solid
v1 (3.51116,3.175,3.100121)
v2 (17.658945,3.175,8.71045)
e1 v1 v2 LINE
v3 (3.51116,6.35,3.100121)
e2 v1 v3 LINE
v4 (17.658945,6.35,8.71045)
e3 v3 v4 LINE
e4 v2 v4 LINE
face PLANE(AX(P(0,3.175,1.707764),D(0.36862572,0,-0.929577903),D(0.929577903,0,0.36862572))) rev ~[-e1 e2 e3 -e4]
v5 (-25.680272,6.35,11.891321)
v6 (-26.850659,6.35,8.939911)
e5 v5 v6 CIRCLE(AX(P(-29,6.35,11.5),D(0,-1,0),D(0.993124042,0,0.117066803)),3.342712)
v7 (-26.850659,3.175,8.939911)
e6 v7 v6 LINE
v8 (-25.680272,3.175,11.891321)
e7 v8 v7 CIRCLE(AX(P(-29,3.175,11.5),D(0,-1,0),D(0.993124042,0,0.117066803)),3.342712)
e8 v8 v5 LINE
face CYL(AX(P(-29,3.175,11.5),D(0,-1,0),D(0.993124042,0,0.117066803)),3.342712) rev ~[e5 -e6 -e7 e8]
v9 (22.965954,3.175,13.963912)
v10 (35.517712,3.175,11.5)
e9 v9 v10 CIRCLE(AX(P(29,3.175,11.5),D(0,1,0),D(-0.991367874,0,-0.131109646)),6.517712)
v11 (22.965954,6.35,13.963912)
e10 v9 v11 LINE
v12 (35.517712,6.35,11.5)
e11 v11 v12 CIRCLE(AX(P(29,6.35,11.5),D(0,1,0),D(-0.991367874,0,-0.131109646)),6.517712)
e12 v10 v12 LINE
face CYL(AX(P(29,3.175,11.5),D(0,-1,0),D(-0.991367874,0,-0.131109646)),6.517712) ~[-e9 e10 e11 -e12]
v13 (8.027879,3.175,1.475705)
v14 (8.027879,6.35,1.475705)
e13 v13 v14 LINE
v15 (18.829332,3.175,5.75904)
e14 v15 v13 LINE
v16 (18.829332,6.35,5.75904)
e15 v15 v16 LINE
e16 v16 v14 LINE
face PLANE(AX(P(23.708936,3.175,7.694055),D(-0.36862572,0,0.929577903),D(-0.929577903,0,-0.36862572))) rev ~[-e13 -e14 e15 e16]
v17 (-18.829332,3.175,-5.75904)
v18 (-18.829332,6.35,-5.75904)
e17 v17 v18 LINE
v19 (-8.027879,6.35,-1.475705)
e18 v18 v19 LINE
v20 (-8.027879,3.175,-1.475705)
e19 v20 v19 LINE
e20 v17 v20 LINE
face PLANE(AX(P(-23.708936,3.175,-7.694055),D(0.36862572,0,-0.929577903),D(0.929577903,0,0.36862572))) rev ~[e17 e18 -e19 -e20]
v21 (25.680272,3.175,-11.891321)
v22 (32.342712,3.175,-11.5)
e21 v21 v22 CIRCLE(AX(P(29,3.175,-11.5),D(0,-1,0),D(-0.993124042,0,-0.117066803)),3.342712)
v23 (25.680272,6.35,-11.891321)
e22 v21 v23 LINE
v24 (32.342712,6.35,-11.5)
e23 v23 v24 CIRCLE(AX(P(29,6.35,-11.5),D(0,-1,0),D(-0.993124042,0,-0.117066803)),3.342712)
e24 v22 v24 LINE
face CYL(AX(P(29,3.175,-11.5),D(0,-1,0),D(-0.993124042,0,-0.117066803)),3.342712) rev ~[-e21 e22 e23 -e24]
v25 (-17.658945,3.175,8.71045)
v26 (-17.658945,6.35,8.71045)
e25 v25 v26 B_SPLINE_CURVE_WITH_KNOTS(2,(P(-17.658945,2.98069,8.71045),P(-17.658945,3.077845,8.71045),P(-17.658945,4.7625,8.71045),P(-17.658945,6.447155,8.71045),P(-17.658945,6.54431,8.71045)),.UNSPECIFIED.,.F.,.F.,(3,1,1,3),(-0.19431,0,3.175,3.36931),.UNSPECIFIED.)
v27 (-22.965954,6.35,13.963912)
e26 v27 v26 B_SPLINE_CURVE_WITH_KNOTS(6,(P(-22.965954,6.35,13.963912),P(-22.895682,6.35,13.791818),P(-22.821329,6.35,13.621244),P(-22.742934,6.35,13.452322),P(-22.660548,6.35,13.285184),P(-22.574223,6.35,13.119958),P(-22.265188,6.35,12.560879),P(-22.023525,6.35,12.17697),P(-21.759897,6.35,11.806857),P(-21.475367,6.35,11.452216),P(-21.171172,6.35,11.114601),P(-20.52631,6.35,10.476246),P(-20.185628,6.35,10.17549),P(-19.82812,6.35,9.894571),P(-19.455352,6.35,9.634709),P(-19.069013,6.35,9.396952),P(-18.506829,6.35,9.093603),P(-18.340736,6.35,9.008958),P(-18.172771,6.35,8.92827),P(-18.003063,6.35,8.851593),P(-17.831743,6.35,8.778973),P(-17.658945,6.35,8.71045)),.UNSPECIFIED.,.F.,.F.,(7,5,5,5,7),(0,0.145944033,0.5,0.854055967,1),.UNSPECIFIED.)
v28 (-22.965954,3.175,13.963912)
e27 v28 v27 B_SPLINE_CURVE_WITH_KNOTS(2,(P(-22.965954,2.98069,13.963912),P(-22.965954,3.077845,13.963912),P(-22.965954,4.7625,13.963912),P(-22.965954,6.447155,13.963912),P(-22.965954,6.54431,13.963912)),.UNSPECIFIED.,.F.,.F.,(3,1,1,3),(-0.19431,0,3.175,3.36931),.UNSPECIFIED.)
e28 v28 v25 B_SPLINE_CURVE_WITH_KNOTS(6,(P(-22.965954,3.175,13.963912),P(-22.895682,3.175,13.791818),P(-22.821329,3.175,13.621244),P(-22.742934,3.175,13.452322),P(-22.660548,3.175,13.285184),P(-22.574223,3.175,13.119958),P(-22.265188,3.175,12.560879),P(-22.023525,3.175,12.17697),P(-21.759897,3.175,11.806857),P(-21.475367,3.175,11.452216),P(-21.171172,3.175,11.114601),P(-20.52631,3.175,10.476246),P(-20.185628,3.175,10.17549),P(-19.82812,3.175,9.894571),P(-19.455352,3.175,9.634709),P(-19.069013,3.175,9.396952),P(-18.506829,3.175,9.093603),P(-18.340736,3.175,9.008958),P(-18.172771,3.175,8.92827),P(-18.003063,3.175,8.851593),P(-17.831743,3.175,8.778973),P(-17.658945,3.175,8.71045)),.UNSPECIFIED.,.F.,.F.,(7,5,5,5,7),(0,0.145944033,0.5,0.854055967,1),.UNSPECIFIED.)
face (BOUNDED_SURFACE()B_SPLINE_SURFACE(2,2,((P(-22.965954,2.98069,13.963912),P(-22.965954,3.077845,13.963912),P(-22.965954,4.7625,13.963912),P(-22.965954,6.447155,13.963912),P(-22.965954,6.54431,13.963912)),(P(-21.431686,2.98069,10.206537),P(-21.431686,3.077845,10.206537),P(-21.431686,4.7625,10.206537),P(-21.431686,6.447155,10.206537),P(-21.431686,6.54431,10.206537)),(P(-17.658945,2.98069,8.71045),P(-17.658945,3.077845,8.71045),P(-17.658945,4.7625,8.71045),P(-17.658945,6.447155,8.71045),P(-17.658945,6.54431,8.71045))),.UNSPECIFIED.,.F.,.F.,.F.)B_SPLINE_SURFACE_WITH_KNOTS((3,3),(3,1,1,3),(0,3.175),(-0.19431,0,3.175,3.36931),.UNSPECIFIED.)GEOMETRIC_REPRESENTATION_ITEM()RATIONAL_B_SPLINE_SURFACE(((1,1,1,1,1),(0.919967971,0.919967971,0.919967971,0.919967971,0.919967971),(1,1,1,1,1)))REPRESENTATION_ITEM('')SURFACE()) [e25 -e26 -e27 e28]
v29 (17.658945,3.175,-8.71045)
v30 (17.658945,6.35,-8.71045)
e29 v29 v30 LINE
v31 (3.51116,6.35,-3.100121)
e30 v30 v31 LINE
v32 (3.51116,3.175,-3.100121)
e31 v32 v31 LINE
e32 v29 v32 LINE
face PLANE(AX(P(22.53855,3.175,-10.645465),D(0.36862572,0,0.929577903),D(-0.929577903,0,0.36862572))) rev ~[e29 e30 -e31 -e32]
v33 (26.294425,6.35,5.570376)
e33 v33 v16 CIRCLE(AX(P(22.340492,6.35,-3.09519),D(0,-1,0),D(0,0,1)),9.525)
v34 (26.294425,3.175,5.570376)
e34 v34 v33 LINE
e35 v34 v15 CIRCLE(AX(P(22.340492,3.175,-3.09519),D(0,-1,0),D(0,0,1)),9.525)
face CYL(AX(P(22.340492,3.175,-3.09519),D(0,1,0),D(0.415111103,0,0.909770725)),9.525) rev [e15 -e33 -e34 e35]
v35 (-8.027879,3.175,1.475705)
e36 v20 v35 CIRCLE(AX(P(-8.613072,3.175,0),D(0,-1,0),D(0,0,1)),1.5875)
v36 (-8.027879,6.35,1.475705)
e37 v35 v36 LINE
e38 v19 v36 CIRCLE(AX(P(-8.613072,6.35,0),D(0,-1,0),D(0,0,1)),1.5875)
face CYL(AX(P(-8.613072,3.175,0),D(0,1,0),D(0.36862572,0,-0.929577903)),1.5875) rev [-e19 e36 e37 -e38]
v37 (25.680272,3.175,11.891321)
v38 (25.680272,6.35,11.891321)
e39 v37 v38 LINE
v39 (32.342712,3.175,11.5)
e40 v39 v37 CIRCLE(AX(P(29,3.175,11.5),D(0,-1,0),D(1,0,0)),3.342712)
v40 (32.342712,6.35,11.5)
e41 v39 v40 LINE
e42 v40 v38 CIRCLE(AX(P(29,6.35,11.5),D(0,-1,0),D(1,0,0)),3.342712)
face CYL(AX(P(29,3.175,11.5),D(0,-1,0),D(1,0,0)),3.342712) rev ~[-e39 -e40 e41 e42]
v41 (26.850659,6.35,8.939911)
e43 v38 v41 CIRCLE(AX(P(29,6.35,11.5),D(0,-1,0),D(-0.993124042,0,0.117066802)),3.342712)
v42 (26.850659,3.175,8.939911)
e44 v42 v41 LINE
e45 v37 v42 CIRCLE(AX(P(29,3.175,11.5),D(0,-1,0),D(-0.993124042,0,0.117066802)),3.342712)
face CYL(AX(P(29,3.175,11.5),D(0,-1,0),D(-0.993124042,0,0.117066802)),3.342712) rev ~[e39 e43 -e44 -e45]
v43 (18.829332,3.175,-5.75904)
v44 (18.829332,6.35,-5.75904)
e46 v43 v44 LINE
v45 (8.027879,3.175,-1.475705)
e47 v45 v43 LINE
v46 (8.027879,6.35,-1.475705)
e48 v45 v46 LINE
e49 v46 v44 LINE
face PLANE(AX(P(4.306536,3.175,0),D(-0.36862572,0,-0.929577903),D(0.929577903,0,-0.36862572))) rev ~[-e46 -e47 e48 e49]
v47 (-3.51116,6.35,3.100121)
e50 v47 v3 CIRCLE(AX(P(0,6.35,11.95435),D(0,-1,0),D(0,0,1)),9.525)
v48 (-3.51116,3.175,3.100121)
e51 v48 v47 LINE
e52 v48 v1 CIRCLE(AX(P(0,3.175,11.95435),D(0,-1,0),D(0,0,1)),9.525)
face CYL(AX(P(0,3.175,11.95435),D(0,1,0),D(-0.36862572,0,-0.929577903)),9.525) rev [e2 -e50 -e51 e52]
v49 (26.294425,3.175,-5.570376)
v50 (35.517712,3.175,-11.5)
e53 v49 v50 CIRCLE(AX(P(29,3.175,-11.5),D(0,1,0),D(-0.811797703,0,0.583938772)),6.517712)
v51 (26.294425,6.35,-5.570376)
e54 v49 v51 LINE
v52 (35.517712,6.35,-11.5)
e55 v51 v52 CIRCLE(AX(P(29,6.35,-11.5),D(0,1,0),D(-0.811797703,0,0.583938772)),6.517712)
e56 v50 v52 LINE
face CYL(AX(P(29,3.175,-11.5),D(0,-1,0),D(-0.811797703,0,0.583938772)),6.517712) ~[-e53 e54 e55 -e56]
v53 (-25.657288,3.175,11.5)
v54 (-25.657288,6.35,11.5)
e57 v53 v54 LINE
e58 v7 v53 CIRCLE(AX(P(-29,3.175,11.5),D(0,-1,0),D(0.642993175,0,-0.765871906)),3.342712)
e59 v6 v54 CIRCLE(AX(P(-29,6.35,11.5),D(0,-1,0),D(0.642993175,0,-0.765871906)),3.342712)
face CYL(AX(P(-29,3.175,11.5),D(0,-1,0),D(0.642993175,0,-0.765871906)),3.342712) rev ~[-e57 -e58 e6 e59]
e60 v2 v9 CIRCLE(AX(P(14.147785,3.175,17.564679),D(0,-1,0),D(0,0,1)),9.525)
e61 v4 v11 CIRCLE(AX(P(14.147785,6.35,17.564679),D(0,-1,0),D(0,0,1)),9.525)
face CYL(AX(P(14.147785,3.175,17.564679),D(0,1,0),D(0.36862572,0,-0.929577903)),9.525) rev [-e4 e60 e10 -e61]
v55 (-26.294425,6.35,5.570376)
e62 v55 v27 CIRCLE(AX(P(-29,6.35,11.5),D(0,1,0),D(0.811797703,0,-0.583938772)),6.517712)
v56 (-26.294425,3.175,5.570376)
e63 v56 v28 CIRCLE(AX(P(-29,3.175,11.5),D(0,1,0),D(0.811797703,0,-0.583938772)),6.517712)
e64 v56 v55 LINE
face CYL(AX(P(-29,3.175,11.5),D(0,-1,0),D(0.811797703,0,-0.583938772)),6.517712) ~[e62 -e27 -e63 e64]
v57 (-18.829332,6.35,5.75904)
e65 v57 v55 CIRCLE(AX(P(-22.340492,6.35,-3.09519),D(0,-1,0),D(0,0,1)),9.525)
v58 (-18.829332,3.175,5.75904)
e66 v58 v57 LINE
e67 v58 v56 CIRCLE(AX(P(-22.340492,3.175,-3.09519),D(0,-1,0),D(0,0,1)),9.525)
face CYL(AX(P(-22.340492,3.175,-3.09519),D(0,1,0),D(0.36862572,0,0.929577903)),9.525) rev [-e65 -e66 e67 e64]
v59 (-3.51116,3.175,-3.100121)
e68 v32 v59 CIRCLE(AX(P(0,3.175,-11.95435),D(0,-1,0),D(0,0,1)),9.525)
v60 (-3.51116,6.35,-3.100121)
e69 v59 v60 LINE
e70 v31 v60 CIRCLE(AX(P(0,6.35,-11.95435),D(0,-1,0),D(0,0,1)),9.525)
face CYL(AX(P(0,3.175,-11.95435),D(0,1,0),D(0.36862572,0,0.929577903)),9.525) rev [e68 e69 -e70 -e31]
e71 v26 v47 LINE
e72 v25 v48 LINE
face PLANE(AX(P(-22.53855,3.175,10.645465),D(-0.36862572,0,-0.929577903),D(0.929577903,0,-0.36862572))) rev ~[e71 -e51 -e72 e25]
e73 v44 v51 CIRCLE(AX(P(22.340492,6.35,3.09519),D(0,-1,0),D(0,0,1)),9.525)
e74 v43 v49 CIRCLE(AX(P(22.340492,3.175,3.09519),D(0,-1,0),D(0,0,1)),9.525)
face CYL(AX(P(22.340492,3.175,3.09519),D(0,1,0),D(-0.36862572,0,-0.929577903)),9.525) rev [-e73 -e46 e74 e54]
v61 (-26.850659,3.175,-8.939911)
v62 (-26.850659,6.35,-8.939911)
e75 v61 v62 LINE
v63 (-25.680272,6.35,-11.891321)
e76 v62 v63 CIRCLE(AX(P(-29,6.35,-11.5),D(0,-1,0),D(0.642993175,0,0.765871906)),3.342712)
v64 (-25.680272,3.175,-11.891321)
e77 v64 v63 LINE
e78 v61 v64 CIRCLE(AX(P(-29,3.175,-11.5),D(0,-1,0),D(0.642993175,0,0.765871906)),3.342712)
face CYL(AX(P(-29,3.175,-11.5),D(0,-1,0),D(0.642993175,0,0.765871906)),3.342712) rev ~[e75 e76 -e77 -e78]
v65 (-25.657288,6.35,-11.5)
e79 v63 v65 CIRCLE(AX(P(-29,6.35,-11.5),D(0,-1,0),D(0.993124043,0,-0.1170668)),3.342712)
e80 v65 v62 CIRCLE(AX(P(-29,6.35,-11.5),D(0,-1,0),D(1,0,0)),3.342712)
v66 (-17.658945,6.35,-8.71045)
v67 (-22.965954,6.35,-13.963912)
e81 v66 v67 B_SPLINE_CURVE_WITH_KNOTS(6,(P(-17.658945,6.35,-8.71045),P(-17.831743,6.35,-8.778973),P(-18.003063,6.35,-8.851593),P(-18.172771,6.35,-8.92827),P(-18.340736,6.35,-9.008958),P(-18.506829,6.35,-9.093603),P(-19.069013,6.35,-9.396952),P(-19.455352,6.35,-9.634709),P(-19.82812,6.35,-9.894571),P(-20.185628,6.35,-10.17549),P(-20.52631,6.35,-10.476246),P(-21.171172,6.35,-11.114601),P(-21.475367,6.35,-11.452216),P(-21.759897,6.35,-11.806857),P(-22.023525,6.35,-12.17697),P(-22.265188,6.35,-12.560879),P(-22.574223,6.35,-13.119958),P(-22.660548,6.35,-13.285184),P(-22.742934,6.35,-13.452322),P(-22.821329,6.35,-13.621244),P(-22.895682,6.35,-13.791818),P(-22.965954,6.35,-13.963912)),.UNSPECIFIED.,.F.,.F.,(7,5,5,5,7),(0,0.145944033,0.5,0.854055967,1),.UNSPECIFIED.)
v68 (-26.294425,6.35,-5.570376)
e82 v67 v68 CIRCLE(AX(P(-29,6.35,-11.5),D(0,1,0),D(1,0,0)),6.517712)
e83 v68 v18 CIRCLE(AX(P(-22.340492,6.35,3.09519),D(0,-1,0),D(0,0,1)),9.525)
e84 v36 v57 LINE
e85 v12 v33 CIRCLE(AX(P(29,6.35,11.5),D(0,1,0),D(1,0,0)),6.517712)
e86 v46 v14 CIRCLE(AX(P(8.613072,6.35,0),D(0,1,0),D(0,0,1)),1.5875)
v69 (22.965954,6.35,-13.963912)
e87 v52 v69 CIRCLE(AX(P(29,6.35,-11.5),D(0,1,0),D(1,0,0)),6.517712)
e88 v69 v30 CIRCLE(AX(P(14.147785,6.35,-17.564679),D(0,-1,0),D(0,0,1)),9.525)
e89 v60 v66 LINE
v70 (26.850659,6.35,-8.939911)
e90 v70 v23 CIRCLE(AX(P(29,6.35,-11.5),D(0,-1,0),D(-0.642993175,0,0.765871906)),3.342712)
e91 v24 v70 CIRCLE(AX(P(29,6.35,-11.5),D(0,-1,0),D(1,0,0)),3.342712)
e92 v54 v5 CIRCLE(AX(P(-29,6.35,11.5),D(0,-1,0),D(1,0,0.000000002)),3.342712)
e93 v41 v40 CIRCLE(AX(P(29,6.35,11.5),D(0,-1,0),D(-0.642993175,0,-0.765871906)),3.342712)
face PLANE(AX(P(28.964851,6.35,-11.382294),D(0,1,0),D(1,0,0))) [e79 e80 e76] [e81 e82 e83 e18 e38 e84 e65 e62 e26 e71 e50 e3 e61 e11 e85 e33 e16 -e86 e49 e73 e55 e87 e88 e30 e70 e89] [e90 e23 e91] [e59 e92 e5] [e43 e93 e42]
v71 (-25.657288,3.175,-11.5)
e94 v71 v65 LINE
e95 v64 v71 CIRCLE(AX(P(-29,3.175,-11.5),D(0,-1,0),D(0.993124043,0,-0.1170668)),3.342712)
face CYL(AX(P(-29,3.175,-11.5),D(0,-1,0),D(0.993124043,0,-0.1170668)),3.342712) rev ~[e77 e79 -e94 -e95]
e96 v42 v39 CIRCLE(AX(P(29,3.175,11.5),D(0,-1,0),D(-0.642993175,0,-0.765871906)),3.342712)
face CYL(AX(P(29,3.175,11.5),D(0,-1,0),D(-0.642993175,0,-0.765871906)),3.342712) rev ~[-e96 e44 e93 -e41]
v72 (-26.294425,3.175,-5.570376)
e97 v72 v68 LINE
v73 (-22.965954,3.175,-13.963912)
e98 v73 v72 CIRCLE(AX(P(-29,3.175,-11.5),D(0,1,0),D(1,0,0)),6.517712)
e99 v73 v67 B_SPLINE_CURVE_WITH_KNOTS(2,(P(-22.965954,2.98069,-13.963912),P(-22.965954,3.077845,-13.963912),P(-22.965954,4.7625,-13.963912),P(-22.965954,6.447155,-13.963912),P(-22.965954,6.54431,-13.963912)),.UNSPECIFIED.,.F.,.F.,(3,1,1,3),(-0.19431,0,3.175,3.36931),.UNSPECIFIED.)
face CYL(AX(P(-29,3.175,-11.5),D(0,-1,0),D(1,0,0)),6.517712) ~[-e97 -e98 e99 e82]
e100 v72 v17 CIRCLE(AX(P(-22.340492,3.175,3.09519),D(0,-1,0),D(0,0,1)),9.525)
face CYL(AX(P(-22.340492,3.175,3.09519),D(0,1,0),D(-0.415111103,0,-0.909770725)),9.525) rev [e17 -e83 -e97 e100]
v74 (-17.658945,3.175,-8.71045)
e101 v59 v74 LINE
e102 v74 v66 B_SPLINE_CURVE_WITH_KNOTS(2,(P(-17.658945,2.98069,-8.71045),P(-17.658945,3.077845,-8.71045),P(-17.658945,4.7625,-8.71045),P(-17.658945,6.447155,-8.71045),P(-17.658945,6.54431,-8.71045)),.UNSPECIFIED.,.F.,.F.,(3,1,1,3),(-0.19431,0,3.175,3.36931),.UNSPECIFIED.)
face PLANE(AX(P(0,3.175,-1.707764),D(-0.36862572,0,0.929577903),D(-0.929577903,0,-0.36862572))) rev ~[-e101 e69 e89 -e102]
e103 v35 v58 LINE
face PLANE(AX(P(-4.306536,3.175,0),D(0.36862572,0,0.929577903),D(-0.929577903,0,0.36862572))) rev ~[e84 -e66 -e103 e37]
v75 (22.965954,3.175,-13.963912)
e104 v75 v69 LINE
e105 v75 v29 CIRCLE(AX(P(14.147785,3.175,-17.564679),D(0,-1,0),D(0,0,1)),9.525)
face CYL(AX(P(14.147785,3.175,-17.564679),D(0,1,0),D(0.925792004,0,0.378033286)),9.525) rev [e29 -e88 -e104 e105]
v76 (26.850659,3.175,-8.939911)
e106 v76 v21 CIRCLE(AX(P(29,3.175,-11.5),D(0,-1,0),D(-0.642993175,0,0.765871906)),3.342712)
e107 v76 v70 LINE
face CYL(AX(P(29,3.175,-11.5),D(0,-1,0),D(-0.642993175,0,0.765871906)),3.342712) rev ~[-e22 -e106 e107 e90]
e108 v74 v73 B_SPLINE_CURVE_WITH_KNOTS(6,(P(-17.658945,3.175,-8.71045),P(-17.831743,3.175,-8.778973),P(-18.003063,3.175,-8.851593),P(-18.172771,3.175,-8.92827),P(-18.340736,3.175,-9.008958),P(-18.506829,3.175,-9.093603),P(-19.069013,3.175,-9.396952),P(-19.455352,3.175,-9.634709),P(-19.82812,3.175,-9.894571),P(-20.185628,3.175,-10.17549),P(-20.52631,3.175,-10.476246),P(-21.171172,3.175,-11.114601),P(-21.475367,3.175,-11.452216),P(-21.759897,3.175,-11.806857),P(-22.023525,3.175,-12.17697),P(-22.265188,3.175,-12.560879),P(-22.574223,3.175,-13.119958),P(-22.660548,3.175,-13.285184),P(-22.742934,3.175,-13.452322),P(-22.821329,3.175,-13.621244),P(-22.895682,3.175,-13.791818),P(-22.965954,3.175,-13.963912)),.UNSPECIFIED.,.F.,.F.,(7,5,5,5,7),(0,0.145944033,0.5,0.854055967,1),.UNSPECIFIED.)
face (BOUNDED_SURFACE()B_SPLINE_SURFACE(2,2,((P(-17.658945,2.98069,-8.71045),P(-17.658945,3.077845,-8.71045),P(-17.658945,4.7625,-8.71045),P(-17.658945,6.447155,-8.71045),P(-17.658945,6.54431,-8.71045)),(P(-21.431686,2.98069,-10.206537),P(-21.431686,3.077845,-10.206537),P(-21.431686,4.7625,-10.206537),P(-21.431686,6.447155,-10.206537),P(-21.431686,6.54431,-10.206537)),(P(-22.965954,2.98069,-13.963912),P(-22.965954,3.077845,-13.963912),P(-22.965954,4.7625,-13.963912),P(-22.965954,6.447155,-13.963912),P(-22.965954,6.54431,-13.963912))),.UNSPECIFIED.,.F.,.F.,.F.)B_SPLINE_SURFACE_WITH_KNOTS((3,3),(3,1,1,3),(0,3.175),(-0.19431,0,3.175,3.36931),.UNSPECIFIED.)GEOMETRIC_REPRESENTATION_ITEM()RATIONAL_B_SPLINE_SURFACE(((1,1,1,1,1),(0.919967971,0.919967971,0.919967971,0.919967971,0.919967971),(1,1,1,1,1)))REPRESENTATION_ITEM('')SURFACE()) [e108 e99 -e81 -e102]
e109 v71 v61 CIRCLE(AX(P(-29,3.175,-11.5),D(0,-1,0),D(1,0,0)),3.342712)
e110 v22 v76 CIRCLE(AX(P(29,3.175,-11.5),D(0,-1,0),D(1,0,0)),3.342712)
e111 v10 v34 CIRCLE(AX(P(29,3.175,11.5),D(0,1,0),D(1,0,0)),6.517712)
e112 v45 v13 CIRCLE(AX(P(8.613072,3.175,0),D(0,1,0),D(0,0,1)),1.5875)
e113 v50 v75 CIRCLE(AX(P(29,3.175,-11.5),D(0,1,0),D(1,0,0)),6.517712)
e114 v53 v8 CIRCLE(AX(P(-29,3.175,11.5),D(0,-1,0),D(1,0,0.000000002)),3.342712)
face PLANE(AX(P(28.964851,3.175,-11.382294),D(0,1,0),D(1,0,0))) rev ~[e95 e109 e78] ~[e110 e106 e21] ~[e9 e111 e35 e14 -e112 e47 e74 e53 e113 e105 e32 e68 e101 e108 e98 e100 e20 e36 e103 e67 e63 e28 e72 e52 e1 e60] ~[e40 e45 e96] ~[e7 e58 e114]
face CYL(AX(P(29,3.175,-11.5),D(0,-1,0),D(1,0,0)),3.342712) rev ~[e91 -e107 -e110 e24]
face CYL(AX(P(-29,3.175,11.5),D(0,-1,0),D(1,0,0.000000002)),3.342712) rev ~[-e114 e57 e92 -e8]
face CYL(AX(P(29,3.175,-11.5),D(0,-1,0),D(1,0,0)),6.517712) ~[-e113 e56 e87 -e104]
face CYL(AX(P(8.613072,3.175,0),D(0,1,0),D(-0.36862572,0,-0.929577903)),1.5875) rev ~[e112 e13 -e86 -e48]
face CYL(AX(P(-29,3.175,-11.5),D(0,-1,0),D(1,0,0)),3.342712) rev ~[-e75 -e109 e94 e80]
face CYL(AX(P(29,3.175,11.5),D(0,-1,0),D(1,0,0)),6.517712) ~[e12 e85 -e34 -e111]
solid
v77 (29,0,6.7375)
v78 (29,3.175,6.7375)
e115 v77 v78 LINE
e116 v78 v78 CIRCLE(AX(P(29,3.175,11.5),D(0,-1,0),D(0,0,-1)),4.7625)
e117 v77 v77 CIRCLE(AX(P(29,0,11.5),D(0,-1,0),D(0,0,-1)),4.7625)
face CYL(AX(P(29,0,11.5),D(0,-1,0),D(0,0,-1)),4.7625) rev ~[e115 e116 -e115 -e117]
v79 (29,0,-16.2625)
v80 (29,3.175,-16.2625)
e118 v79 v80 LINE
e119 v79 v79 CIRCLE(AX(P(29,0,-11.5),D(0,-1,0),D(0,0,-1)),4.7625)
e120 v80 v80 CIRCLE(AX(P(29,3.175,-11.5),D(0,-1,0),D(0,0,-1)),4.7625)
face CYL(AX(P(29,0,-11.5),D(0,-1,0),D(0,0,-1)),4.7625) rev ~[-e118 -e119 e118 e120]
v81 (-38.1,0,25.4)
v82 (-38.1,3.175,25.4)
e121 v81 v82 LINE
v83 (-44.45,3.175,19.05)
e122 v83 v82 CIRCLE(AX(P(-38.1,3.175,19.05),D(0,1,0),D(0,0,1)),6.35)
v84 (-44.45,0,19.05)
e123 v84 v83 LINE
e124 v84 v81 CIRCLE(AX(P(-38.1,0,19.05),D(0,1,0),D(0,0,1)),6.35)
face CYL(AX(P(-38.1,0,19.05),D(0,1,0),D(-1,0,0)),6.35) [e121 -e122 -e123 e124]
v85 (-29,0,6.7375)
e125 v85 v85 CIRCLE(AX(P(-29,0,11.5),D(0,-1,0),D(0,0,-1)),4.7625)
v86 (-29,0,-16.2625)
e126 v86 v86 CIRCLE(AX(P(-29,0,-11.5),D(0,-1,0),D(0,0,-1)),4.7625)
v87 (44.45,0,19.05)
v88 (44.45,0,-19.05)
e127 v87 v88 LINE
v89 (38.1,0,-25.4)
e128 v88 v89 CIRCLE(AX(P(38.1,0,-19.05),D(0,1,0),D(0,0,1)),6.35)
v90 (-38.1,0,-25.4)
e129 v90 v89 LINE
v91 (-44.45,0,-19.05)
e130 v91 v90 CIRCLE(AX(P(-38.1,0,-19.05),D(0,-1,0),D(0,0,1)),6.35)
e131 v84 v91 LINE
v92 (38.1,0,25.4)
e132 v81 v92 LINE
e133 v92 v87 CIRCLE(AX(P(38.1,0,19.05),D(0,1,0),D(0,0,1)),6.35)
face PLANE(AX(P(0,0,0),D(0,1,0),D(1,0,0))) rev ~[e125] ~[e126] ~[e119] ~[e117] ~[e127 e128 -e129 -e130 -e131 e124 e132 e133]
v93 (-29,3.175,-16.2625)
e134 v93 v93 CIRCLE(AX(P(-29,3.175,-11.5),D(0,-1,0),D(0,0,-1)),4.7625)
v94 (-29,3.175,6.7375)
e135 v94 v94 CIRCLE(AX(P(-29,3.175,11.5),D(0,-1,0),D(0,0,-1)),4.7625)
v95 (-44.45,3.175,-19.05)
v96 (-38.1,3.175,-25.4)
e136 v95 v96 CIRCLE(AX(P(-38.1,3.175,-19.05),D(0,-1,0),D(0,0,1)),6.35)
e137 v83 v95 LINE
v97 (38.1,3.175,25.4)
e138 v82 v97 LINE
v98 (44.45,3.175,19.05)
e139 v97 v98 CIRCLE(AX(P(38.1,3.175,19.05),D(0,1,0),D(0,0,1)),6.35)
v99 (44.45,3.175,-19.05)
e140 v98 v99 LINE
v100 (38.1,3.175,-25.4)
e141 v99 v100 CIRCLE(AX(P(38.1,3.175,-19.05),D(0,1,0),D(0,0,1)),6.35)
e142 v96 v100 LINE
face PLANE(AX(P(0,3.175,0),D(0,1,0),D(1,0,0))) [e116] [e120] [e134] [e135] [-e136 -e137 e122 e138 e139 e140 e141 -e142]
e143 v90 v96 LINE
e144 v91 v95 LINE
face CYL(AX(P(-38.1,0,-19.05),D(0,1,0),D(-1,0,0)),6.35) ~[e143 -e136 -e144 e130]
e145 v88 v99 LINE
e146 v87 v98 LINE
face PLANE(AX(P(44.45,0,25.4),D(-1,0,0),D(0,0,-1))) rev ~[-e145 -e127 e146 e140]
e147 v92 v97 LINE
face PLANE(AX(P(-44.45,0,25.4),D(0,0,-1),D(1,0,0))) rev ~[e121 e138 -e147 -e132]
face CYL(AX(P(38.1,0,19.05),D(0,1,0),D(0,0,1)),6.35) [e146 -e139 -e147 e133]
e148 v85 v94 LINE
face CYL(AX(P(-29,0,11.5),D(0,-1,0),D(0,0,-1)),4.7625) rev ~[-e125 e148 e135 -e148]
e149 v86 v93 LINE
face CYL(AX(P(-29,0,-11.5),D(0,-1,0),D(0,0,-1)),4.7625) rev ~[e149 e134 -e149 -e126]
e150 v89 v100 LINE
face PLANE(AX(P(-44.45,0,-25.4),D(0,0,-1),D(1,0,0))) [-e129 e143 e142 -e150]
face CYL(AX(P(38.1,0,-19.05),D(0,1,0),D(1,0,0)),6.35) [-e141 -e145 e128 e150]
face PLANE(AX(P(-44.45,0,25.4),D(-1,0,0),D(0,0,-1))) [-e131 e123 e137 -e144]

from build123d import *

# Parameters (mm, degrees)
SKETCH1_W               = 88.9
SKETCH1_H               = 50.8
BOSS_EXTRUDE1_DEPTH     = 3.175
BOSS_EXTRUDE3_DEPTH     = 3.175
FILLET1_R               = 9.525
FILLET2_R               = 1.5875
FILLET3_R               = 6.35
CUT_EXTRUDE1_DEPTH      = 52.293694794
CUT_EXTRUDE1_DEPTH_BACK = 52.293694794
SKETCH3_R               = 3.342712029
SKETCH4_R               = 4.7625
CUT_EXTRUDE2_DEPTH      = 52.587643882


with BuildPart() as part:
    # Sketch1 → Boss-Extrude1 (new body)
    with BuildSketch(Plane(origin=(0, 0, 0), x_dir=(1, 0, 0), z_dir=(0, 1, 0))):
        Rectangle(SKETCH1_W, SKETCH1_H)
    extrude(amount=BOSS_EXTRUDE1_DEPTH)

    # Fillet3
    fillet3_edges = [part.edges().sort_by_distance(p)[0] for p in [
        (-44.45, 1.5875, 25.4),
        (-44.45, 1.5875, -25.4),
        (44.45, 1.5875, -25.4),
        (44.45, 1.5875, 25.4),
    ]]
    fillet(fillet3_edges, radius=FILLET3_R)

    # Sketch3 → Cut-Extrude1 (cut, two sides: drawn at the far end of the back side and taken through both)
    with BuildSketch(Plane(origin=(0, 3.175, 0), x_dir=(1, 0, 0), z_dir=(0, 1, 0)).offset(-CUT_EXTRUDE1_DEPTH_BACK)):
        with Locations(Location((-29, 11.5, 0), (0, 0, 270))):
            Circle(SKETCH3_R)
        with Locations(Location((-29, -11.5, 0), (0, 0, 270))):
            Circle(SKETCH3_R)
        with Locations(Location((29, -11.5, 0), (0, 0, 270))):
            Circle(SKETCH3_R)
        with Locations(Location((29, 11.5, 0), (0, 0, 270))):
            Circle(SKETCH3_R)
    extrude(amount=CUT_EXTRUDE1_DEPTH + CUT_EXTRUDE1_DEPTH_BACK, mode=Mode.SUBTRACT)

    # Sketch4 → Cut-Extrude2 (cut, through all)
    with BuildSketch(Plane.XZ):
        with Locations(Location((29, 11.5, 0), (0, 0, 270))):
            Circle(SKETCH4_R)
        with Locations(Location((29, -11.5, 0), (0, 0, 270))):
            Circle(SKETCH4_R)
        with Locations(Location((-29, 11.5, 0), (0, 0, 270))):
            Circle(SKETCH4_R)
        with Locations(Location((-29, -11.5, 0), (0, 0, 270))):
            Circle(SKETCH4_R)
    extrude(amount=-CUT_EXTRUDE2_DEPTH, mode=Mode.SUBTRACT)


with BuildPart() as body_2:
    # Sketch2 → Boss-Extrude3 (new body)
    with BuildSketch(Plane(origin=(0, 3.175, 0), x_dir=(1, 0, 0), z_dir=(0, 1, 0))):
        with BuildLine():
            ThreePointArc((35.517712029, 11.5), (28.571807489, 18.00363139), (22.538549686, 10.645465083))
            Line((22.538549686, 10.645465083), (25.680272317, 11.89132061))
            ThreePointArc((25.680272317, 11.89132061), (29.195997513, 14.836960995), (32.342712029, 11.5))
            ThreePointArc((32.342712029, 11.5), (30.412284607, 8.470284519), (26.850658979, 8.939910767))
            Line((26.850658979, 8.939910767), (23.708936348, 7.69405524))
            ThreePointArc((23.708936348, 7.69405524), (30.99936751, 5.296525196), (35.517712029, 11.5))
        make_face()
        with BuildLine():
            Line((25.680272317, 11.89132061), (22.538549686, 10.645465083))
            ThreePointArc((22.538549686, 10.645465083), (22.941278918, 9.097403709), (23.708936348, 7.69405524))
            Line((23.708936348, 7.69405524), (26.850658979, 8.939910767))
            ThreePointArc((26.850658979, 8.939910767), (25.892688761, 10.267790371), (25.680272317, 11.89132061))
        make_face()
        with BuildLine():
            ThreePointArc((23.708936348, -7.69405524), (22.941278918, -9.097403709), (22.538549686, -10.645465083))
            Line((22.538549686, -10.645465083), (25.680272317, -11.89132061))
            ThreePointArc((25.680272317, -11.89132061), (25.892688761, -10.267790371), (26.850658979, -8.939910767))
            Line((26.850658979, -8.939910767), (23.708936348, -7.69405524))
        make_face()
        with BuildLine():
            Line((25.680272317, -11.89132061), (22.538549686, -10.645465083))
            ThreePointArc((22.538549686, -10.645465083), (28.571807489, -18.00363139), (35.517712029, -11.5))
            ThreePointArc((35.517712029, -11.5), (30.99936751, -5.296525196), (23.708936348, -7.69405524))
            Line((23.708936348, -7.69405524), (26.850658979, -8.939910767))
            ThreePointArc((26.850658979, -8.939910767), (30.412284607, -8.470284519), (32.342712029, -11.5))
            ThreePointArc((32.342712029, -11.5), (29.195997513, -14.836960995), (25.680272317, -11.89132061))
        make_face()
        with BuildLine():
            ThreePointArc((-22.538549686, -10.645465083), (-22.941278918, -9.097403709), (-23.708936348, -7.69405524))
            Line((-23.708936348, -7.69405524), (-26.850658979, -8.939910767))
            ThreePointArc((-26.850658979, -8.939910767), (-25.970284519, -10.087715393), (-25.657287971, -11.5))
            ThreePointArc((-25.657287971, -11.5), (-25.663039005, -11.695997513), (-25.680272317, -11.89132061))
            Line((-25.680272317, -11.89132061), (-22.538549686, -10.645465083))
        make_face()
        with BuildLine():
            Line((-26.850658979, -8.939910767), (-23.708936348, -7.69405524))
            ThreePointArc((-23.708936348, -7.69405524), (-35.203474804, -13.49936751), (-22.482287971, -11.5))
            ThreePointArc((-22.482287971, -11.5), (-22.49636861, -11.071807489), (-22.538549686, -10.645465083))
            Line((-22.538549686, -10.645465083), (-25.680272317, -11.89132061))
            ThreePointArc((-25.680272317, -11.89132061), (-32.107311239, -12.732209629), (-26.850658979, -8.939910767))
        make_face()
        with BuildLine():
            ThreePointArc((-25.657287971, 11.5), (-25.970284519, 10.087715393), (-26.850658979, 8.939910767))
            Line((-26.850658979, 8.939910767), (-23.708936348, 7.69405524))
            ThreePointArc((-23.708936348, 7.69405524), (-22.941278918, 9.097403709), (-22.538549686, 10.645465083))
            Line((-22.538549686, 10.645465083), (-25.680272317, 11.89132061))
            ThreePointArc((-25.680272317, 11.89132061), (-25.663039005, 11.695997513), (-25.657287971, 11.5))
        make_face()
        with BuildLine():
            Line((-23.708936348, 7.69405524), (-26.850658979, 8.939910767))
            ThreePointArc((-26.850658979, 8.939910767), (-32.107311239, 12.732209629), (-25.680272317, 11.89132061))
            Line((-25.680272317, 11.89132061), (-22.538549686, 10.645465083))
            ThreePointArc((-22.538549686, 10.645465083), (-22.49636861, 11.071807489), (-22.482287971, 11.5))
            ThreePointArc((-22.482287971, 11.5), (-35.203474804, 13.49936751), (-23.708936348, 7.69405524))
        make_face()
        with BuildLine():
            ThreePointArc((-22.538549686, 10.645465083), (-22.941278918, 9.097403709), (-23.708936348, 7.69405524))
            Line((-23.708936348, 7.69405524), (-4.306536177, 0))
            Line((-4.306536177, 0), (0, 1.707764346))
            Line((0, 1.707764346), (-22.538549686, 10.645465083))
        make_face()
        with BuildLine():
            Line((0, -1.707764346), (-4.306536177, 0))
            Line((-4.306536177, 0), (-23.708936348, -7.69405524))
            ThreePointArc((-23.708936348, -7.69405524), (-22.941278918, -9.097403709), (-22.538549686, -10.645465083))
            Line((-22.538549686, -10.645465083), (0, -1.707764346))
        make_face()
        with BuildLine():
            Line((22.538549686, 10.645465083), (0, 1.707764346))
            Line((0, 1.707764346), (4.306536177, 0))
            Line((4.306536177, 0), (23.708936348, 7.69405524))
            ThreePointArc((23.708936348, 7.69405524), (22.941278918, 9.097403709), (22.538549686, 10.645465083))
        make_face()
        with BuildLine():
            Line((4.306536177, 0), (0, -1.707764346))
            Line((0, -1.707764346), (22.538549686, -10.645465083))
            ThreePointArc((22.538549686, -10.645465083), (22.941278918, -9.097403709), (23.708936348, -7.69405524))
            Line((23.708936348, -7.69405524), (4.306536177, 0))
        make_face()
        Polygon((0, 1.707764346), (-4.306536177, 0), (0, -1.707764346), (4.306536177, 0), align=None)
    extrude(amount=BOSS_EXTRUDE3_DEPTH)

    # Fillet1
    fillet1_edges = [body_2.edges().sort_by_distance(p)[0] for p in [
        (-23.708936348, 4.7625, 7.69405524),
        (-23.708936348, 4.7625, -7.69405524),
        (-22.538549686, 4.7625, -10.645465083),
        (0, 4.7625, -1.707764346),
        (22.538549686, 4.7625, -10.645465083),
        (23.708936348, 4.7625, -7.69405524),
        (23.708936348, 4.7625, 7.69405524),
        (22.538549686, 4.7625, 10.645465083),
        (0, 4.7625, 1.707764346),
        (-22.538549686, 4.7625, 10.645465083),
    ]]
    fillet(fillet1_edges, radius=FILLET1_R)

    # Fillet2
    fillet2_edges = [body_2.edges().sort_by_distance(p)[0] for p in [
        (-4.306536177, 4.7625, 0),
        (4.306536177, 4.7625, 0),
    ]]
    fillet(fillet2_edges, radius=FILLET2_R)


solid = Compound([part.part, body_2.part])
